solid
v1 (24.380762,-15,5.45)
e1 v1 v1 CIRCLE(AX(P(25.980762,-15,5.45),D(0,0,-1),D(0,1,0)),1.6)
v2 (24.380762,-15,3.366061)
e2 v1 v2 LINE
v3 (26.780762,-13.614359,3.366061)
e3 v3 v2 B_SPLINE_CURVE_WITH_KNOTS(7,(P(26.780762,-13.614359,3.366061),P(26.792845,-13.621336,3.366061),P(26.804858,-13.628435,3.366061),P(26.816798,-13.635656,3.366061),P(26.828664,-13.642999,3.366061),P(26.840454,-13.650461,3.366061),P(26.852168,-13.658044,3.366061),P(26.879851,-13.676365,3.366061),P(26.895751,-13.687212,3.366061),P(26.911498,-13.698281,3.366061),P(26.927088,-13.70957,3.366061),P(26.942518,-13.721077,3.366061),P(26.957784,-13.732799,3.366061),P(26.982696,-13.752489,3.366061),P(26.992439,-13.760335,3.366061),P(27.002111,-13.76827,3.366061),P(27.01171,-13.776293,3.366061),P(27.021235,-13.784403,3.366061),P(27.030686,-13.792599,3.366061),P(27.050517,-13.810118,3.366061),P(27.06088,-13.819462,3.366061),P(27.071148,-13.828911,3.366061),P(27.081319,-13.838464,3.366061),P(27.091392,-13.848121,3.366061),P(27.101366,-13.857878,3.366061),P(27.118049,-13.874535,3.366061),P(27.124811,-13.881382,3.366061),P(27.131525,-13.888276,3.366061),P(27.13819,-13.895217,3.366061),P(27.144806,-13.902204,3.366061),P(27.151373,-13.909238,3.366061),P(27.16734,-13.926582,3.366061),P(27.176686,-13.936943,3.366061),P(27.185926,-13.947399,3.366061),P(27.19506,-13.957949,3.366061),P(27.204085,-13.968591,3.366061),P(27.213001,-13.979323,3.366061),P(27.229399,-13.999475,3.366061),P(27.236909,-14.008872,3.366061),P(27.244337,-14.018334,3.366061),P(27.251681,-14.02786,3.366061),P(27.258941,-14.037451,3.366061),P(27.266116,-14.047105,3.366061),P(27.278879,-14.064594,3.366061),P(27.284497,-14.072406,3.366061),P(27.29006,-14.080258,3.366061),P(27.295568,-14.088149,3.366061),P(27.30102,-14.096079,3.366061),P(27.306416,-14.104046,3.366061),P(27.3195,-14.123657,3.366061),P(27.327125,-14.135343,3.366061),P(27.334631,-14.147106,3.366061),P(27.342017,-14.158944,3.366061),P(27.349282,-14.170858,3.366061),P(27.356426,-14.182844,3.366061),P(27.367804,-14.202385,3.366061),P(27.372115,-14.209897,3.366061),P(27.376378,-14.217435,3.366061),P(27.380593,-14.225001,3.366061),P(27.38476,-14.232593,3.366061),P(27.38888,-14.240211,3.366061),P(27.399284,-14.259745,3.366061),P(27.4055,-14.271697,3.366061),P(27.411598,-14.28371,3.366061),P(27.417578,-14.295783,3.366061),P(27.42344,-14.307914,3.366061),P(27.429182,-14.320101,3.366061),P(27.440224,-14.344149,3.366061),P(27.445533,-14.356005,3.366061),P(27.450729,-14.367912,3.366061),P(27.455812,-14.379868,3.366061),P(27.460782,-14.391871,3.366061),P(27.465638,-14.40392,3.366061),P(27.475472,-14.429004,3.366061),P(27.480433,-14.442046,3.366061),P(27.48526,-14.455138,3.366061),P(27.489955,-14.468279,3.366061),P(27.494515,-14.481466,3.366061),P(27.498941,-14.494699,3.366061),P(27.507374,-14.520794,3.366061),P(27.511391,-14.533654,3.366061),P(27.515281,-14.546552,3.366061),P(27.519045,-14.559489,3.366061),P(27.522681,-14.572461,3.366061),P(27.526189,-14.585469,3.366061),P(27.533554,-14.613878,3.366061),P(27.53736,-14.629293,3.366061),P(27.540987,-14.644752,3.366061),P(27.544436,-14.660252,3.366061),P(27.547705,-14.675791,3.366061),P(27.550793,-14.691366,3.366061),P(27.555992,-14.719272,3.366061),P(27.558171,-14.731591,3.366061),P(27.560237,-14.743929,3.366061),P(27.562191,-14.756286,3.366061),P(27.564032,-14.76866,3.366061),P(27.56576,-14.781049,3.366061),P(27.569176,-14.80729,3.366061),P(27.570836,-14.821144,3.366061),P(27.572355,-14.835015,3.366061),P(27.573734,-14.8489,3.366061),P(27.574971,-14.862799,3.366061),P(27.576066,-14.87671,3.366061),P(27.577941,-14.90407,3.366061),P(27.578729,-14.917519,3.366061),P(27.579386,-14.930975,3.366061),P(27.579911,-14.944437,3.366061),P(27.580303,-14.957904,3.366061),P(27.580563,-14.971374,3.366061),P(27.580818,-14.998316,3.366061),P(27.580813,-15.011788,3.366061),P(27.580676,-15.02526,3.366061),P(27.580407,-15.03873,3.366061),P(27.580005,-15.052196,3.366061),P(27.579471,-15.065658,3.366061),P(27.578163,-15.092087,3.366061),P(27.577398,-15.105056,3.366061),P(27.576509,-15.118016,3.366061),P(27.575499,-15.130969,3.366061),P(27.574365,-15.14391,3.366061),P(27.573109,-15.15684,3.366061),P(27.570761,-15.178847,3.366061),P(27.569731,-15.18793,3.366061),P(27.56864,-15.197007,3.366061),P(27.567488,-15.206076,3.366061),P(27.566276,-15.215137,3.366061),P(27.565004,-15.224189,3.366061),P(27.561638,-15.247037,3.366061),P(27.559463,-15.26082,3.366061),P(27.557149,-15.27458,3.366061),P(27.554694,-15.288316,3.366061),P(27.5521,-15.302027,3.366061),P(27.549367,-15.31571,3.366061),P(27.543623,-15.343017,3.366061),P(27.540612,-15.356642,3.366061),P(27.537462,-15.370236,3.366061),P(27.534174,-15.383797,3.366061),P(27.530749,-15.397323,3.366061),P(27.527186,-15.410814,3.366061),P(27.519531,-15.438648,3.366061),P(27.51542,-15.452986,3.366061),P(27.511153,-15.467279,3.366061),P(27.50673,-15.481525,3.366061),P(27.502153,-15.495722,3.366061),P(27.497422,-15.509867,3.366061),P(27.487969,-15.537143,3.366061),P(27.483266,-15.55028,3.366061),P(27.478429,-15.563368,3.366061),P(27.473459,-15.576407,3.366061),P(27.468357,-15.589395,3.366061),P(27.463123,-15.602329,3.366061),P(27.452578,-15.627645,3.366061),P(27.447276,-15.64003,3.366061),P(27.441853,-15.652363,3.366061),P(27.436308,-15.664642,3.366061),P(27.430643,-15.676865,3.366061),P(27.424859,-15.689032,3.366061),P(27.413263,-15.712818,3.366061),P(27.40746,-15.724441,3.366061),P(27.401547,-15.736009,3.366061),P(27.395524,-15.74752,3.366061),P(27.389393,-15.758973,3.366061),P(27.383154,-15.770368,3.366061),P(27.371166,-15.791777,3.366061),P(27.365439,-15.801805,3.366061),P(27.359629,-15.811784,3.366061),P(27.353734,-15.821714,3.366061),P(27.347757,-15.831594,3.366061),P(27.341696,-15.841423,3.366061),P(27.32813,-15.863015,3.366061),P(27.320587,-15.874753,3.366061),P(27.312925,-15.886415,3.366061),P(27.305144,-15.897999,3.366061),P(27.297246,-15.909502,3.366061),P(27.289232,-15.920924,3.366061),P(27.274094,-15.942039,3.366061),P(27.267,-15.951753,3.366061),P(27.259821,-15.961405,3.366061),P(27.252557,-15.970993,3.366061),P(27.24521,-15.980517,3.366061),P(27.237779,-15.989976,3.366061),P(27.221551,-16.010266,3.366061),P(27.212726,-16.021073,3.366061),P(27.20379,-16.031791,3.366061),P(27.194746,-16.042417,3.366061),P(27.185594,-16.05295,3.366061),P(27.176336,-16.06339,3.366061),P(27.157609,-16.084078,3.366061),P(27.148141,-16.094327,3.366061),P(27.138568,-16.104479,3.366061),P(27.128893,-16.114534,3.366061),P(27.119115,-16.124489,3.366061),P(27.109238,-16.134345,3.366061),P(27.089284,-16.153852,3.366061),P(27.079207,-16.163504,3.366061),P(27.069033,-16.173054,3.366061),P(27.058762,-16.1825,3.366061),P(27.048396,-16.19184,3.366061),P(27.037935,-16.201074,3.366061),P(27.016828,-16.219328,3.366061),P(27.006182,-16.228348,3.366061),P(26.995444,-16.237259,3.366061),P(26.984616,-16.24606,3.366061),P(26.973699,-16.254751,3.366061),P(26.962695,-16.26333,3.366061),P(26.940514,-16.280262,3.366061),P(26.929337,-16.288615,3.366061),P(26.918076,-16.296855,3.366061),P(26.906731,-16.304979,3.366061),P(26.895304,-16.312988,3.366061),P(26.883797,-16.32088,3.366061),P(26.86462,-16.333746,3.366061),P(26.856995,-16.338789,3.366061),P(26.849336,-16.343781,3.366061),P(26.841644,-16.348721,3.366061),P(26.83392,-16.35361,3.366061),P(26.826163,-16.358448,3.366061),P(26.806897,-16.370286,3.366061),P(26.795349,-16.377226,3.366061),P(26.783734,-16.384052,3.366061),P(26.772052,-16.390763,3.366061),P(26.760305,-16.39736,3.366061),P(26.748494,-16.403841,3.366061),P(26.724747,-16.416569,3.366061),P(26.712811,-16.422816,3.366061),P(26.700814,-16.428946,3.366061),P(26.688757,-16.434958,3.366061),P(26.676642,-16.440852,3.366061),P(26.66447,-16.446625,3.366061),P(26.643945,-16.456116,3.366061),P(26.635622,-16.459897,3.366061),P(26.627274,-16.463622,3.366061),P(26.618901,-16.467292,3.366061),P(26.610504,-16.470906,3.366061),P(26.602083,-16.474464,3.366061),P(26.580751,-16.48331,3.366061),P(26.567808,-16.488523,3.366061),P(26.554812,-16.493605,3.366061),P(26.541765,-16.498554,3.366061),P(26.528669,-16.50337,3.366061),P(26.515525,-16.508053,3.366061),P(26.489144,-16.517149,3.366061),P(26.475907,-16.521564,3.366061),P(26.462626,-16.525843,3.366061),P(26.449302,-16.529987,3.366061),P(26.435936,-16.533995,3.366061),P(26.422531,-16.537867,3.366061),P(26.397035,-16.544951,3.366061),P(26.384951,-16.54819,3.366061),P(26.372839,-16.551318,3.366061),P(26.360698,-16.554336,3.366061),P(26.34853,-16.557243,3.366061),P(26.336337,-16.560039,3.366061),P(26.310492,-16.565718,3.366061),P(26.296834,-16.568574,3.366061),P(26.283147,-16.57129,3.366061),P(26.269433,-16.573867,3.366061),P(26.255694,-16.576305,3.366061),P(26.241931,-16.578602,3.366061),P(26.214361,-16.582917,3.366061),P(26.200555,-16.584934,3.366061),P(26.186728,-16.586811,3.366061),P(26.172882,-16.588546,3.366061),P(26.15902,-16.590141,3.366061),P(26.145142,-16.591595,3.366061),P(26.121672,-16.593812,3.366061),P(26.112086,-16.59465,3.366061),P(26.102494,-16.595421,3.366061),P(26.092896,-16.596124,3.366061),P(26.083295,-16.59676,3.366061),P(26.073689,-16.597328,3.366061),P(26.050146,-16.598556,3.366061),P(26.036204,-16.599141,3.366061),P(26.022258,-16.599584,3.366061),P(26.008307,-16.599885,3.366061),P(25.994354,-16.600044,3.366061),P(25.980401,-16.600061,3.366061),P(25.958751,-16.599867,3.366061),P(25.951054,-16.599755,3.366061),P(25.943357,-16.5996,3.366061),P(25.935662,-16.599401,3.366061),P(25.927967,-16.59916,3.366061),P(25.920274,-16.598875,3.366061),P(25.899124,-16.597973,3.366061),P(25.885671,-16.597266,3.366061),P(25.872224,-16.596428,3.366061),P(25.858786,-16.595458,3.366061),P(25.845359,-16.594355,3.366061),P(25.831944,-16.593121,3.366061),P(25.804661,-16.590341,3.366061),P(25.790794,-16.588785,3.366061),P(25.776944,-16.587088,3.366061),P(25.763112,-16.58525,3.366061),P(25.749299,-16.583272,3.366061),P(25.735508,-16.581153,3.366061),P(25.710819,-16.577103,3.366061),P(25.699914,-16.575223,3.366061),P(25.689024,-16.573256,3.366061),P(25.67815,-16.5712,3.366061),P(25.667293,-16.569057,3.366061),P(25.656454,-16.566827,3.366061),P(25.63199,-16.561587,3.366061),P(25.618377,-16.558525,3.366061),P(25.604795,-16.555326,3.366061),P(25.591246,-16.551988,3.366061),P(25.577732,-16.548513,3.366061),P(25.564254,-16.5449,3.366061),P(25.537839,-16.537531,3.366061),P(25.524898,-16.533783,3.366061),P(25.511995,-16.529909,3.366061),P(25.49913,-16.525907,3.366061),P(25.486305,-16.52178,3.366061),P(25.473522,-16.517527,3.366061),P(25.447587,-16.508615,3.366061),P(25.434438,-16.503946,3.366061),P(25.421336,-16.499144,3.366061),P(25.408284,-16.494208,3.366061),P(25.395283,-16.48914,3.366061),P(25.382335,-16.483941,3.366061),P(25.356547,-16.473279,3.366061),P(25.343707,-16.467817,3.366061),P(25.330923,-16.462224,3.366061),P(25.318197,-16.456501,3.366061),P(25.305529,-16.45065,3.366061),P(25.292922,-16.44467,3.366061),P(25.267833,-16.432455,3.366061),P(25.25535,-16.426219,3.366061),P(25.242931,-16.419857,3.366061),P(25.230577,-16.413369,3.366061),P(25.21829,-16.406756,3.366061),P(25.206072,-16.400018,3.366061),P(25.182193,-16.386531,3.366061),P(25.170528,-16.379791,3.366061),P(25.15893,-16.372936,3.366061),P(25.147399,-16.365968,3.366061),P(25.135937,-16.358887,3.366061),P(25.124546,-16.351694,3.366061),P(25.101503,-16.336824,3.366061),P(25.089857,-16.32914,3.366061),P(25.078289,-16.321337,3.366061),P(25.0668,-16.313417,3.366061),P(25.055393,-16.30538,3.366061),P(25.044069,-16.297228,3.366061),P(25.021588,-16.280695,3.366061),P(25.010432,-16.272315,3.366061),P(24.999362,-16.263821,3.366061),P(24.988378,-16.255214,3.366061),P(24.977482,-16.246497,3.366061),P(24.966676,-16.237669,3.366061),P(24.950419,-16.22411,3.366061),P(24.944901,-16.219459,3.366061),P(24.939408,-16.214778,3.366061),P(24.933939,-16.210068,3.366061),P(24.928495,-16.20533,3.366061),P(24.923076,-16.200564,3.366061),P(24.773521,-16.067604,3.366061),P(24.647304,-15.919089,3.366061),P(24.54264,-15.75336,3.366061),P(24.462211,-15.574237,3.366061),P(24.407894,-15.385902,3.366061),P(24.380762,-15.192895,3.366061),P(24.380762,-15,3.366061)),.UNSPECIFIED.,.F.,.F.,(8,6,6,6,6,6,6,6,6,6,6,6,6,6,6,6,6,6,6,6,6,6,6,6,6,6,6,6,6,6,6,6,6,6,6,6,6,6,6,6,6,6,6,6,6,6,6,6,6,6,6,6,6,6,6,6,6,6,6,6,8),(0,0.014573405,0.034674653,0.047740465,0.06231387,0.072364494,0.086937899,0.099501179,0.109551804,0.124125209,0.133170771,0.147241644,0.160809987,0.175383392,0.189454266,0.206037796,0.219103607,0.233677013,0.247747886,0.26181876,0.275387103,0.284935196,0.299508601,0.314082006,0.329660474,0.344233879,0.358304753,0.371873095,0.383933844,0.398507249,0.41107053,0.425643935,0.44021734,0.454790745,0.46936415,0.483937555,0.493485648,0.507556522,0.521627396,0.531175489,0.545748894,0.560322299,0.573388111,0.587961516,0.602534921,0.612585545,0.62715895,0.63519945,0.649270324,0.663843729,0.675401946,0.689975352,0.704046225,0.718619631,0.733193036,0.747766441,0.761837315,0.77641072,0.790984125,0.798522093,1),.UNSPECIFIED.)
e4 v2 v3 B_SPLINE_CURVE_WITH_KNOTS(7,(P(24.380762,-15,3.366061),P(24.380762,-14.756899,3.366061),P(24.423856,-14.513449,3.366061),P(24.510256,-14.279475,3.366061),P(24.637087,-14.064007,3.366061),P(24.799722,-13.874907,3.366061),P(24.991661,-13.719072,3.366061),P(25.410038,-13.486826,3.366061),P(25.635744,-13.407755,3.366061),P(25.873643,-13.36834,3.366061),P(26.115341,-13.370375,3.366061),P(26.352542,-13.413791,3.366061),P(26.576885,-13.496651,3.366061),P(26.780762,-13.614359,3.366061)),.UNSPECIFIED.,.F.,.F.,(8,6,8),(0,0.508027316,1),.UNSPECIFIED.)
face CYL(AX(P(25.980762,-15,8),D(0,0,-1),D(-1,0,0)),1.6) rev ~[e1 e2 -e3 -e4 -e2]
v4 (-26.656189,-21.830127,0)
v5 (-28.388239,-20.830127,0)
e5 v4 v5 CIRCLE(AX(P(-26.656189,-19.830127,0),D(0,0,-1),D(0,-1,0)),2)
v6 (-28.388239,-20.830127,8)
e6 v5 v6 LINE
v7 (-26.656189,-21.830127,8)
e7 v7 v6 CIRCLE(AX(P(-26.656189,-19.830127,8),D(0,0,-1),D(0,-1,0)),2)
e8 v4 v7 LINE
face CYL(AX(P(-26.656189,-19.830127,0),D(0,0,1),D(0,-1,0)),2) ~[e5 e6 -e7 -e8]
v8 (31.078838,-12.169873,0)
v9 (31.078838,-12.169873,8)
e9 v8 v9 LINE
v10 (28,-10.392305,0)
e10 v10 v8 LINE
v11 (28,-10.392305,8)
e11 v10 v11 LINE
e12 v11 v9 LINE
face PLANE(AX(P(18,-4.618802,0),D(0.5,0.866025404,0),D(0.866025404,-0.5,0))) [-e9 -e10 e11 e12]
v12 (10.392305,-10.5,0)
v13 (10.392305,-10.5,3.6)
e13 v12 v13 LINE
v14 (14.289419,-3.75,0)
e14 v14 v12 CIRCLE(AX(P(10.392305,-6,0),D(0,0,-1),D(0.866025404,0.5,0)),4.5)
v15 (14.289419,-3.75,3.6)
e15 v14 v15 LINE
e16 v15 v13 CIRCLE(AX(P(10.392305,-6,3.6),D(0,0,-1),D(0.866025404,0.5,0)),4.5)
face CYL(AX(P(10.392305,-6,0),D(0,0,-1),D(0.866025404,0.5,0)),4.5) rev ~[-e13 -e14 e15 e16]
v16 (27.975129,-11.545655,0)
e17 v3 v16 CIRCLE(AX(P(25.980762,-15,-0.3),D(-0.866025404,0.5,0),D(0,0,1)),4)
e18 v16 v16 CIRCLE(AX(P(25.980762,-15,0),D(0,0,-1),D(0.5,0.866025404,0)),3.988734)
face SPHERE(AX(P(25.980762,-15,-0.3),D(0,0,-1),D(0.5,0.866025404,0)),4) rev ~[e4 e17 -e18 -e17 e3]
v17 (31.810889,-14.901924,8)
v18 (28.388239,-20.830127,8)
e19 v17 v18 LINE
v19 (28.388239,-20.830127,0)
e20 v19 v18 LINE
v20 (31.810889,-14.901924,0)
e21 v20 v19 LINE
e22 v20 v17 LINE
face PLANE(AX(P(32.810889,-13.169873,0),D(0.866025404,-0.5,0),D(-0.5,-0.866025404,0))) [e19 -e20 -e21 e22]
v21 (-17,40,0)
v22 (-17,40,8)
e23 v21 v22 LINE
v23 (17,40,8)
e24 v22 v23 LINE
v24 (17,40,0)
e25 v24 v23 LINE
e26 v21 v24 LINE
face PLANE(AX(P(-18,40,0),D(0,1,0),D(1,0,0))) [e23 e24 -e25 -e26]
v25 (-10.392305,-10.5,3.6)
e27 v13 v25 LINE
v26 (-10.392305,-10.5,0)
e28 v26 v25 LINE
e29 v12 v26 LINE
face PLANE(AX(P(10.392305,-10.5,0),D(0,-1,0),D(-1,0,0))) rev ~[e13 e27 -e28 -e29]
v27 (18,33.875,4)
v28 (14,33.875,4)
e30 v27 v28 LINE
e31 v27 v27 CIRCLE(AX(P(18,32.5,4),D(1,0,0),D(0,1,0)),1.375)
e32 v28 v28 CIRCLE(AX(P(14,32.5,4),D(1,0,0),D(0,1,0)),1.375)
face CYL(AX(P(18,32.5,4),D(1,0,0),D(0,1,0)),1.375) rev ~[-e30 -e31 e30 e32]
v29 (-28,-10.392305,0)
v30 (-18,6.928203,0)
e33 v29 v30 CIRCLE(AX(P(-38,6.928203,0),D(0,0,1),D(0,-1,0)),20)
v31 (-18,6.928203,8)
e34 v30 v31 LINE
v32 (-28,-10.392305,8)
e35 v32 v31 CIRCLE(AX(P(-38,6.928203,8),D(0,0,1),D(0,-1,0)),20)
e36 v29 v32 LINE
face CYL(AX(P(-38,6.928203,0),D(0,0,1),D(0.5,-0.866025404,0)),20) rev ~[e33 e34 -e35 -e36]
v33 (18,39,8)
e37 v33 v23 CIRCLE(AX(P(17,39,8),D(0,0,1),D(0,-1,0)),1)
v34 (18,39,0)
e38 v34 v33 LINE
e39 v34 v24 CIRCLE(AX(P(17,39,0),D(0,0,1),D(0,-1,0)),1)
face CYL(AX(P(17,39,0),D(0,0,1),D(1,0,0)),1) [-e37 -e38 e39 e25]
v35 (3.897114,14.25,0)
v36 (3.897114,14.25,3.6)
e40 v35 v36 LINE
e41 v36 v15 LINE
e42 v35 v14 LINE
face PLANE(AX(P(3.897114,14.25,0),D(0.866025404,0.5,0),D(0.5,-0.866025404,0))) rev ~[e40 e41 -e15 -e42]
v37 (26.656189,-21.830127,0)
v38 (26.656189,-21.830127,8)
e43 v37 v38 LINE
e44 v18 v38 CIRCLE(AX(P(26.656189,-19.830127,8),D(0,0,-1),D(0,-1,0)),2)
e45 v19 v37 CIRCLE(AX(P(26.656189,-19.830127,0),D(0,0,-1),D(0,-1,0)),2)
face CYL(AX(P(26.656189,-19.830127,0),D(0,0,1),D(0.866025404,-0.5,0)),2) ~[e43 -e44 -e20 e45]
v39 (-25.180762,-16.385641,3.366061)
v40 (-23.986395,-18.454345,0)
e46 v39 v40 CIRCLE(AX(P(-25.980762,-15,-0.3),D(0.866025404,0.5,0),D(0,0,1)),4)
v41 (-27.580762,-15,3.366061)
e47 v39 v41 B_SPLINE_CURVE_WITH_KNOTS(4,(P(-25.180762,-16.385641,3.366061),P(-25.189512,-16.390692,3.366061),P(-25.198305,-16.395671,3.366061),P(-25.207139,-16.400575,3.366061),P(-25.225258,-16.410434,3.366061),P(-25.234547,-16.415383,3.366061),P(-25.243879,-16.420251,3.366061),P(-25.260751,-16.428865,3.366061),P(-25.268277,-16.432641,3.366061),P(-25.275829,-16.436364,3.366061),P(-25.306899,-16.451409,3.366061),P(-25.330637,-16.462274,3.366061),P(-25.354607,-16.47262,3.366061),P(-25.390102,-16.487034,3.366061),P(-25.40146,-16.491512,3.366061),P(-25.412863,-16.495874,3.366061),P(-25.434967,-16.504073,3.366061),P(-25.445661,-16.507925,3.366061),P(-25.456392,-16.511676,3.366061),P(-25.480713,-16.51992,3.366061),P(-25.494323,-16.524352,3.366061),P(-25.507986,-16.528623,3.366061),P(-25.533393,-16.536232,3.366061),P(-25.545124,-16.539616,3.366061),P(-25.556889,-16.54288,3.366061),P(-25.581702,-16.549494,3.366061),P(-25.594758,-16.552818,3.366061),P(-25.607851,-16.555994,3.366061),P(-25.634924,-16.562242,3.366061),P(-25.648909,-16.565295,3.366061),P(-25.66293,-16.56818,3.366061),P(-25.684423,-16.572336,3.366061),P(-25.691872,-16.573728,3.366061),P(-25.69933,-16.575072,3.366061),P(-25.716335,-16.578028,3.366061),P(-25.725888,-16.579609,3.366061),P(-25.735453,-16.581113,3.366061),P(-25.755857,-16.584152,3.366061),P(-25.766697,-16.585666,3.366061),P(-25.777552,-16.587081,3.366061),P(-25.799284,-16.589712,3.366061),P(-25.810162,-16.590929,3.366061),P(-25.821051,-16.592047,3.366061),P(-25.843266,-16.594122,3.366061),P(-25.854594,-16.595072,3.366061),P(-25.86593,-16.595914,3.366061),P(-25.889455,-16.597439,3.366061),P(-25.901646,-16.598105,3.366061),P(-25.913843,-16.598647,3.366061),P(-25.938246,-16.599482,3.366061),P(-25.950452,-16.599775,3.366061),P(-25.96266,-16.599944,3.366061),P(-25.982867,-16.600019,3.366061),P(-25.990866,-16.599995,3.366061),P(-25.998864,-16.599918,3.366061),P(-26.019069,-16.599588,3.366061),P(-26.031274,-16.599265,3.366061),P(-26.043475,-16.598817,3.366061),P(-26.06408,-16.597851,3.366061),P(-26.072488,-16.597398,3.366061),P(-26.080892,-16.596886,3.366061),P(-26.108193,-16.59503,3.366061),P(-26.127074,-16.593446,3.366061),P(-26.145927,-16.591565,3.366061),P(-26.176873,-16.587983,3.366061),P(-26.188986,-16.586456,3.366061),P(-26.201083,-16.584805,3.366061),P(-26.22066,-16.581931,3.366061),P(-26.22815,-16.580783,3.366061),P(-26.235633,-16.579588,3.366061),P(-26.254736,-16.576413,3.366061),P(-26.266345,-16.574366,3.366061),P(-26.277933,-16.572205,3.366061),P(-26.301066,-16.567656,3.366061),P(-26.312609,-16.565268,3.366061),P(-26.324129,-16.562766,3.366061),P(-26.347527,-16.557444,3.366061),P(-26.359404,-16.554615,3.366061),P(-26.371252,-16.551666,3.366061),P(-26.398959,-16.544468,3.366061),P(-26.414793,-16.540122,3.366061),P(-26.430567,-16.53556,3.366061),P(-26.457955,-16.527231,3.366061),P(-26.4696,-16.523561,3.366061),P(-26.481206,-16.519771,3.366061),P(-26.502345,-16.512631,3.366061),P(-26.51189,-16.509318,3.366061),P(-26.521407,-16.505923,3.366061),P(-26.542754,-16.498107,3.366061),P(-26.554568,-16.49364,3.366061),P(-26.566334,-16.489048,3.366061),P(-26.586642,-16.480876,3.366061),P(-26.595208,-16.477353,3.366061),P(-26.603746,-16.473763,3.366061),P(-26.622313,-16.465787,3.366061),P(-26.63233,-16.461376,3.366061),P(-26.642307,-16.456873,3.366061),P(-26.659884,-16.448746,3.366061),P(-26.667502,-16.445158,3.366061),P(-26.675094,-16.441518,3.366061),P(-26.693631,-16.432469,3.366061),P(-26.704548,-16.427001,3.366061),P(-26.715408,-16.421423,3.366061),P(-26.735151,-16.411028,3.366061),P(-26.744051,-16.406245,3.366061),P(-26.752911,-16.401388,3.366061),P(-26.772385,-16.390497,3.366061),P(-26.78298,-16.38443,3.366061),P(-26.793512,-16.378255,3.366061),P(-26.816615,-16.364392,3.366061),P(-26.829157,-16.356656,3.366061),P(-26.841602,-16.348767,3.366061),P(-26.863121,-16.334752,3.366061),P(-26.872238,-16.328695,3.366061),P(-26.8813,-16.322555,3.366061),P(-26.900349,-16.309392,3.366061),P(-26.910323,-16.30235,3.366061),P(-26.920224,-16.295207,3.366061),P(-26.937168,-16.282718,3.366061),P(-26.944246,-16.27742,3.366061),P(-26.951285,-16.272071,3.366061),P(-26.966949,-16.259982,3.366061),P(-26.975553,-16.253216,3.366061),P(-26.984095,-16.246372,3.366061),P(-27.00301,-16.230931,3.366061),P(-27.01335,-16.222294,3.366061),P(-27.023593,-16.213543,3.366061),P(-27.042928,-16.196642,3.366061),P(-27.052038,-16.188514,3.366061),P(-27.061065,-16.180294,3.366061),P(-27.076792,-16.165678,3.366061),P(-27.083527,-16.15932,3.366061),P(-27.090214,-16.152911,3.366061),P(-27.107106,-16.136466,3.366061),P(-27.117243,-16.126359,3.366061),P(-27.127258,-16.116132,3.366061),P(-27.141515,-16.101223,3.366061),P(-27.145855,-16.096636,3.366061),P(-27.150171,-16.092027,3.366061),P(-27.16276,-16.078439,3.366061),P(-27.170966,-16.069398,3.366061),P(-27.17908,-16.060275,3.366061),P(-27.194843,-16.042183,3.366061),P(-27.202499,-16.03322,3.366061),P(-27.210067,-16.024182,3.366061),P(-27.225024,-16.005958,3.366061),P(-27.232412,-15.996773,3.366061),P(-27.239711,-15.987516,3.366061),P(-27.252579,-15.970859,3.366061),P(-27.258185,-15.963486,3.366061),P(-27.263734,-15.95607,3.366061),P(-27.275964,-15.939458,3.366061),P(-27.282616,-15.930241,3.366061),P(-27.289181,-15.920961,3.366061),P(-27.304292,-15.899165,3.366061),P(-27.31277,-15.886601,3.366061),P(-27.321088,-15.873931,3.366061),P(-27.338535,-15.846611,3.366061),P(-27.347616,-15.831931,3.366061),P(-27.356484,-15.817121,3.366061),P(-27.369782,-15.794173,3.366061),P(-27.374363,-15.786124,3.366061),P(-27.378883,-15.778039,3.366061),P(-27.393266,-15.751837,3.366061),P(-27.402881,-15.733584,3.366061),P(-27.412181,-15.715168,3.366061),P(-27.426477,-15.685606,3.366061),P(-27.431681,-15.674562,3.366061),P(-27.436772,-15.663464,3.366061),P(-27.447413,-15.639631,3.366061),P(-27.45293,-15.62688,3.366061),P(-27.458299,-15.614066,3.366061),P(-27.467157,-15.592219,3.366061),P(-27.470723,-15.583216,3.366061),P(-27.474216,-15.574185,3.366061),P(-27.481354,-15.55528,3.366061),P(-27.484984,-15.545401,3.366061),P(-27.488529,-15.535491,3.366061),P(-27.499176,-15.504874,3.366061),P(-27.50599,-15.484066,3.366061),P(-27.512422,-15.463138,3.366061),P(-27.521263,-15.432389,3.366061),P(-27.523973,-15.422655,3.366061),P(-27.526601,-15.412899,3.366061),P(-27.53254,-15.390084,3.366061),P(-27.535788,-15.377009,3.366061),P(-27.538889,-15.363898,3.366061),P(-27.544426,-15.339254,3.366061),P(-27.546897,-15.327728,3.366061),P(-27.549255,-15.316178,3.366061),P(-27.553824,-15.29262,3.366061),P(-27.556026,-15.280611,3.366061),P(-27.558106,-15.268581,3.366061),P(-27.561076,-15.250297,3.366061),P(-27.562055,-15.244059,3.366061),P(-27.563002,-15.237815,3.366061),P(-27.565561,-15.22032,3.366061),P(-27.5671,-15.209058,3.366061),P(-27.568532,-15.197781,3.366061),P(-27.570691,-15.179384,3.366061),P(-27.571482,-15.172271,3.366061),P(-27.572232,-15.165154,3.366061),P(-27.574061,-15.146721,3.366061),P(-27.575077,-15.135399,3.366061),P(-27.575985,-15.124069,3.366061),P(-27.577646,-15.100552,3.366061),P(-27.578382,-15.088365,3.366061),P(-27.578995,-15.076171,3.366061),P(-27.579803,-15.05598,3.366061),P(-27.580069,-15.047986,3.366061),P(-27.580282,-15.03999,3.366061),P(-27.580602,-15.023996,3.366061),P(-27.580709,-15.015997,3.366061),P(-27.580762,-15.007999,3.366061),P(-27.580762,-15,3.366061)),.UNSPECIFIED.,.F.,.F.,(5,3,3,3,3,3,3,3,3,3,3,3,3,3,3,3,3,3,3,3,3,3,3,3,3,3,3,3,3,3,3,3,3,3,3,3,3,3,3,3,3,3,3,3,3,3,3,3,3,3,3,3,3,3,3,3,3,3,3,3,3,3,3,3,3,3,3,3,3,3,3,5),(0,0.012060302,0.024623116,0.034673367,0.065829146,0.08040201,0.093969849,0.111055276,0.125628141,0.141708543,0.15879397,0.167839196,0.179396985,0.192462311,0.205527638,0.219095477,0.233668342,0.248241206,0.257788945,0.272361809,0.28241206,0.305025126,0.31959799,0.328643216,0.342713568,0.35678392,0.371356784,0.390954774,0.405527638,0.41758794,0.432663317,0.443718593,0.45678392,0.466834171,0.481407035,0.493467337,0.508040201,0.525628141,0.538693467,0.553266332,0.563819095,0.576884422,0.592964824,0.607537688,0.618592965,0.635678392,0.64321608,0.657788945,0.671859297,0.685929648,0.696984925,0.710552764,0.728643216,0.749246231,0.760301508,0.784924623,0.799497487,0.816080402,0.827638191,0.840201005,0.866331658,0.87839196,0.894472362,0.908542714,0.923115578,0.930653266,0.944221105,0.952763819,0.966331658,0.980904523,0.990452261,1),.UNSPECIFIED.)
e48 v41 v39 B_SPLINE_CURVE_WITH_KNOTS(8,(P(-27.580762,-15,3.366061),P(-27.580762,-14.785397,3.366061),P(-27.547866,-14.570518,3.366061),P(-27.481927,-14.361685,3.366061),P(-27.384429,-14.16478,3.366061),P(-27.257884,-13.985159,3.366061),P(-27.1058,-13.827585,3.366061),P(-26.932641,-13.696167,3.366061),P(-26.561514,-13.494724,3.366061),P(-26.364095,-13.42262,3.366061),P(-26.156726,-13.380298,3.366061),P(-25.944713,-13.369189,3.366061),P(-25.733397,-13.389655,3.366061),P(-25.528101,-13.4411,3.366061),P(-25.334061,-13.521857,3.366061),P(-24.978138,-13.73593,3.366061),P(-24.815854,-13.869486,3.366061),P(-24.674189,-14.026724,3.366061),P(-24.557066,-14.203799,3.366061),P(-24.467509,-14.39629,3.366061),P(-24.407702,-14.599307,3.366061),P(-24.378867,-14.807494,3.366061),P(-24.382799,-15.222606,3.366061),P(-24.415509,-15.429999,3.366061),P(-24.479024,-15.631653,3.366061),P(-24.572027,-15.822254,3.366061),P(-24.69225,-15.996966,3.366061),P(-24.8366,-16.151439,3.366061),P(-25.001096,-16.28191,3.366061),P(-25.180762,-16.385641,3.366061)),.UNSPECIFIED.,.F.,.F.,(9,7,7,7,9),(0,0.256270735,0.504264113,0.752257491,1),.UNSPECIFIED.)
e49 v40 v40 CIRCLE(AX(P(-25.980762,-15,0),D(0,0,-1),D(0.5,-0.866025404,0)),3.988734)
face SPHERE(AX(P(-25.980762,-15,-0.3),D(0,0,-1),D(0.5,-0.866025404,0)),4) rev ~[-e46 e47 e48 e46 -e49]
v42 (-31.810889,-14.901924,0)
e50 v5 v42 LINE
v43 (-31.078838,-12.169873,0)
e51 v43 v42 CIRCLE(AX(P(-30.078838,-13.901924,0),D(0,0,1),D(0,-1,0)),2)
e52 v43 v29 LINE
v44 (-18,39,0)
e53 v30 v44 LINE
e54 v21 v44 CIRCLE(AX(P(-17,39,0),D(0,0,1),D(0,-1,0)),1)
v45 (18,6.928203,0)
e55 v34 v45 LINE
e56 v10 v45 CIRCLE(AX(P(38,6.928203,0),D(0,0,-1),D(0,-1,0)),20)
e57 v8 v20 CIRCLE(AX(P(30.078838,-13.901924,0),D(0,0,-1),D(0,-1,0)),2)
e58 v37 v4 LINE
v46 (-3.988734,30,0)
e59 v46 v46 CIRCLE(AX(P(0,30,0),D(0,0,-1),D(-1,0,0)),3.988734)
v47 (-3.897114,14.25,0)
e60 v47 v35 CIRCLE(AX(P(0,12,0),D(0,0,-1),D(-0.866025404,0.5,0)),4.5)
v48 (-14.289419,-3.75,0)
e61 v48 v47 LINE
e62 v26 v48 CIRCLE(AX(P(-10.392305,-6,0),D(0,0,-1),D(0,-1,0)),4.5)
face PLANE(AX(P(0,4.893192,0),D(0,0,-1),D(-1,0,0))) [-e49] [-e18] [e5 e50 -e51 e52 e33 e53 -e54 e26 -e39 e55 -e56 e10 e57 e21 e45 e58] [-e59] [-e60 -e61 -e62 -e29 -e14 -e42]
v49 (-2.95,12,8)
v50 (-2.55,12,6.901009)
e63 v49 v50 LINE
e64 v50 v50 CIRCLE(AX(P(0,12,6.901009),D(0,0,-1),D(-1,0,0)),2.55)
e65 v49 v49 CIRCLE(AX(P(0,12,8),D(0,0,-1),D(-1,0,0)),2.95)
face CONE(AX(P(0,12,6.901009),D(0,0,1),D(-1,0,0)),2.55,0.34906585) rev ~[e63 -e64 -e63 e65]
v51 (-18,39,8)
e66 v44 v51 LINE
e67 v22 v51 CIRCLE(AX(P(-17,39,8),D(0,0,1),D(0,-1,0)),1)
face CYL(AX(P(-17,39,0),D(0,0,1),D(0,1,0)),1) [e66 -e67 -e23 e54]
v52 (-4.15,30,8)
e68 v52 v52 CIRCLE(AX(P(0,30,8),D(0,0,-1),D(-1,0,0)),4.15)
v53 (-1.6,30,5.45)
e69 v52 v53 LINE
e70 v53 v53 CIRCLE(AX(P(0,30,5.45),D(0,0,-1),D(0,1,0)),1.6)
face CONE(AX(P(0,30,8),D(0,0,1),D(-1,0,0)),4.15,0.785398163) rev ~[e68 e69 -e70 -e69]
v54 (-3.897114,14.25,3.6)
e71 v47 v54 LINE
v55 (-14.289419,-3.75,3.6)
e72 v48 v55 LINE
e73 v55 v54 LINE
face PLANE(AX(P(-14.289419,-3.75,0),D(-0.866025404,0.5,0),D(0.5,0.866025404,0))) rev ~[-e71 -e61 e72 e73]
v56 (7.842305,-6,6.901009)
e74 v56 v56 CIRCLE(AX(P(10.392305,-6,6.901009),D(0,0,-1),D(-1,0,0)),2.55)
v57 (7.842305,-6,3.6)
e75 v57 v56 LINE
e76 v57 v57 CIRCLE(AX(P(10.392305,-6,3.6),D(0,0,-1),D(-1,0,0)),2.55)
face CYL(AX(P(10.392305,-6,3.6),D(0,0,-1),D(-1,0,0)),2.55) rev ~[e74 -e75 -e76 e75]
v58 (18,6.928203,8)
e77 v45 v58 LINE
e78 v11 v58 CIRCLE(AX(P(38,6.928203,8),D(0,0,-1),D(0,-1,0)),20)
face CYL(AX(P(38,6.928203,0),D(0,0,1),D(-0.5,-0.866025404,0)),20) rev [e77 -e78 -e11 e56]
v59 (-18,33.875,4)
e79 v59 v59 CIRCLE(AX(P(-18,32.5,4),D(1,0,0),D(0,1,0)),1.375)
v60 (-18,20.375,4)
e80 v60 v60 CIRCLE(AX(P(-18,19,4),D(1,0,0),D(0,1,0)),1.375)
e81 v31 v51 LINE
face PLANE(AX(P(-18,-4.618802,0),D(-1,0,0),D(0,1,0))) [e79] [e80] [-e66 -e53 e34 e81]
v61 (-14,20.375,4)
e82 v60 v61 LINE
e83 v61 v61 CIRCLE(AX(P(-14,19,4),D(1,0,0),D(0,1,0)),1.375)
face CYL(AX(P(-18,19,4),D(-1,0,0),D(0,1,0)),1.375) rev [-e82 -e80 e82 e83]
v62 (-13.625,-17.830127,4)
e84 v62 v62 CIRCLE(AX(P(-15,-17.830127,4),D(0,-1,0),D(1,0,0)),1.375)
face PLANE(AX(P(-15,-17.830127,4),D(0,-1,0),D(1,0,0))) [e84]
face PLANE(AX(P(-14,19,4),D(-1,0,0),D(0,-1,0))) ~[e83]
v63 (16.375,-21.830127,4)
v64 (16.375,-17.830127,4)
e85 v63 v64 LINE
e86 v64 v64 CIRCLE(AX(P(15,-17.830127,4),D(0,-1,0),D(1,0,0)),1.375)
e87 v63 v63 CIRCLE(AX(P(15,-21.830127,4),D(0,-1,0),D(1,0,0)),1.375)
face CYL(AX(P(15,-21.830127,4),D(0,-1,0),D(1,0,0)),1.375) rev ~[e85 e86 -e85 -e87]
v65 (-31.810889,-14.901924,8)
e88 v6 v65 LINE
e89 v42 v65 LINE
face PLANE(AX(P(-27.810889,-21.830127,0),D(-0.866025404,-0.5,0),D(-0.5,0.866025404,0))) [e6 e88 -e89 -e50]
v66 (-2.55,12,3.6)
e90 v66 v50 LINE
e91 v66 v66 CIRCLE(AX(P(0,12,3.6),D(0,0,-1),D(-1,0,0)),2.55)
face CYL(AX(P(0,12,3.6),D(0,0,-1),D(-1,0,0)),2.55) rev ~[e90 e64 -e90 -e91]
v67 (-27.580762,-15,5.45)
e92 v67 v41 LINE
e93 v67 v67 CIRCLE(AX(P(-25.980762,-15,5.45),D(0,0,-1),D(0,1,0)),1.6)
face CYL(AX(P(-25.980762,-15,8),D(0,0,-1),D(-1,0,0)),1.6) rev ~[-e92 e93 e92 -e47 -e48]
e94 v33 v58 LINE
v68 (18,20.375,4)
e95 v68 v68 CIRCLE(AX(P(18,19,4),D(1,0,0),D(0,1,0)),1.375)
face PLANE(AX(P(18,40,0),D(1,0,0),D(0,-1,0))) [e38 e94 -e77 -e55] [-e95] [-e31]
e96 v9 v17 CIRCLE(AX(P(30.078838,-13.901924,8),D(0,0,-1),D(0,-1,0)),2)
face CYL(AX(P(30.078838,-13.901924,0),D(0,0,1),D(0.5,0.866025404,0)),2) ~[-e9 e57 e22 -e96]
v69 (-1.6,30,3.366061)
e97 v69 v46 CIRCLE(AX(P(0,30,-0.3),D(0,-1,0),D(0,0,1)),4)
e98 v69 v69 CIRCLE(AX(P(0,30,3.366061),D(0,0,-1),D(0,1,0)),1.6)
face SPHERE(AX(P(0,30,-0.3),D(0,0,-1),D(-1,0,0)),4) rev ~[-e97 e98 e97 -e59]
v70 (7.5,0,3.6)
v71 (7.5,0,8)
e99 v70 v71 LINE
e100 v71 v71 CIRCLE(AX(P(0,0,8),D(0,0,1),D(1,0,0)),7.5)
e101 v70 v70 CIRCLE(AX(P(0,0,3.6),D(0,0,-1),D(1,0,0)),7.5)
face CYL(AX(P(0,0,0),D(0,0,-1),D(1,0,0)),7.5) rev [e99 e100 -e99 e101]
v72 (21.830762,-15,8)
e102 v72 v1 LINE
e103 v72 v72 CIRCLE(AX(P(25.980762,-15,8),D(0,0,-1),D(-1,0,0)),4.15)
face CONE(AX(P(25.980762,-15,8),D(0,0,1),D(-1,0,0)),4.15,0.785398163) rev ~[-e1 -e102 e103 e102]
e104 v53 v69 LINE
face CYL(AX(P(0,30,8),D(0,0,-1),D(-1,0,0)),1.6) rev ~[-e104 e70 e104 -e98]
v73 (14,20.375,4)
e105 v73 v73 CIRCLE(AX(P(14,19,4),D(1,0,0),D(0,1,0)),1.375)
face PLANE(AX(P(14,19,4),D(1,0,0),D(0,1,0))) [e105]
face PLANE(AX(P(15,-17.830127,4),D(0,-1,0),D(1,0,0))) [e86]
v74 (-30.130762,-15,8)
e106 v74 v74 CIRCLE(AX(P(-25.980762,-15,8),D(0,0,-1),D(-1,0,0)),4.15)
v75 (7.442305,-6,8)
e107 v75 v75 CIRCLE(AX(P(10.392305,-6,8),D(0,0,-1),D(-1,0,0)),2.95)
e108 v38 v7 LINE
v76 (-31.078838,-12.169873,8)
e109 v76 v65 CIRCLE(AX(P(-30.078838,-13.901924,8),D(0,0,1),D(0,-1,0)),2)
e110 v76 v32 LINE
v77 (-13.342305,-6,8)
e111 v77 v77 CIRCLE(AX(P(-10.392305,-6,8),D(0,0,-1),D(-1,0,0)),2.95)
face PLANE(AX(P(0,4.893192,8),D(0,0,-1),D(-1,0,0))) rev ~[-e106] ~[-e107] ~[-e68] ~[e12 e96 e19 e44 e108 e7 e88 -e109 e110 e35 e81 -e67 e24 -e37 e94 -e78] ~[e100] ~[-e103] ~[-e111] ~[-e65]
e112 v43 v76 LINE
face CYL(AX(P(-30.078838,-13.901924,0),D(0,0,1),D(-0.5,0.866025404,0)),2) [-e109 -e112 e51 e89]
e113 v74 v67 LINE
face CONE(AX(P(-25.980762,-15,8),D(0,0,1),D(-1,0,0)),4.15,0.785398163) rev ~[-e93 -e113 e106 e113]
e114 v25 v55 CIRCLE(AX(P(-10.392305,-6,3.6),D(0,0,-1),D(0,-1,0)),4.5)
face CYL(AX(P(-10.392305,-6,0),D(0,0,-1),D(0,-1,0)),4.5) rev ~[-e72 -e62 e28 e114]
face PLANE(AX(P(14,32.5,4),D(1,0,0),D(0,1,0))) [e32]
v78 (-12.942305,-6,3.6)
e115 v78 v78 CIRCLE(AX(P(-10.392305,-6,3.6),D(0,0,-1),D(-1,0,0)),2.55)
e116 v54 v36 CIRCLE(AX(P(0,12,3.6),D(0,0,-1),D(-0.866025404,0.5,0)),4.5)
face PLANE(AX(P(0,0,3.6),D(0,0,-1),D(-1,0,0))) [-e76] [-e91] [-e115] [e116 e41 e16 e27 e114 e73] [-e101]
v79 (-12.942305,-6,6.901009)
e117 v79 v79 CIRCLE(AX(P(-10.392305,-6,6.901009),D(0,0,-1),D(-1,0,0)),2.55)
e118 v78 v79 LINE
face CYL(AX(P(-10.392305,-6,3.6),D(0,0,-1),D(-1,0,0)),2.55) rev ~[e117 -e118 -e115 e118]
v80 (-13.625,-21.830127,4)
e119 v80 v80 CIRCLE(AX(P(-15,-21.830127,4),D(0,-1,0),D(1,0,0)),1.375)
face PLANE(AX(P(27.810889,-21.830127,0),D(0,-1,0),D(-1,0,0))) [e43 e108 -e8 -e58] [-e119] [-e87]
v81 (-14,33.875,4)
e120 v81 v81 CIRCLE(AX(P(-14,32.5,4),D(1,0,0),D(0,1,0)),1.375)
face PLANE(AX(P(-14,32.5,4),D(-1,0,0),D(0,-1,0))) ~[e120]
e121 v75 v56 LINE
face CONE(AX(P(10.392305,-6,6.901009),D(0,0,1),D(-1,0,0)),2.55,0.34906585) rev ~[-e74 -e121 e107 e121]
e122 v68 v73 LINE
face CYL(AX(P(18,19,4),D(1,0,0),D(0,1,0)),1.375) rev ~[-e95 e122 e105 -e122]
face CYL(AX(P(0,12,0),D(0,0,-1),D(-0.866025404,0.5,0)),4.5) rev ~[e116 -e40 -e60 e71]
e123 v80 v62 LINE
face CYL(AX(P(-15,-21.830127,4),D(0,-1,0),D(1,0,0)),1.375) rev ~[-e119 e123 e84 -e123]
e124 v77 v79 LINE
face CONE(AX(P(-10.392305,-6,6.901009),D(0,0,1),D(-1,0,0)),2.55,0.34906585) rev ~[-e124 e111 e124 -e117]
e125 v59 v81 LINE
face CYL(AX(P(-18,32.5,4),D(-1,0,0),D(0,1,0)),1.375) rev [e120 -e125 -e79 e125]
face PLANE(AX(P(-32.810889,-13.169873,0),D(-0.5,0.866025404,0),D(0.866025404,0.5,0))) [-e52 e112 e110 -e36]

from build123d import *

# Parameters (mm, degrees)
SKETCH2_R                                       = 7.5
BOSS_EXTRUDE1_DEPTH                             = 8
CSK_FOR_M3_FLAT_HEAD_MACHINE_SCREW2_D           = 3.2
CSK_FOR_M3_FLAT_HEAD_MACHINE_SCREW2_CSINK_D     = 8.3
CSK_FOR_M3_FLAT_HEAD_MACHINE_SCREW2_CSINK_ANGLE = 90
FILLET1_R                                       = 20
V_GROOVE_CUTOUT_FLIPPED_DEPTH                   = 3.6
SKETCH49_R                                      = 2.55
CUT_EXTRUDE3_DEPTH                              = 52.922196079
CHAMFER2_SIZE                                   = 0.4
CHAMFER2_SIZE2                                  = 1.098990968
MOVE_FACE2_BY                                   = 0.5
MOVE_FACE2_2_BY                                 = 0.5
MOVE_FACE2_3_BY                                 = 0.5
MOVE_FACE2_4_BY                                 = 0.5
MOVE_FACE2_5_BY                                 = 0.5
MOVE_FACE2_6_BY                                 = 0.5
CIRPATTERN2_COUNT                               = 3
SKETCH20_R                                      = 1.375
TOOL_WING_SCREW_HOLES_DEPTH                     = 4
FILLET17_R                                      = 2
FILLET18_R                                      = 1
SKETCH50_R                                      = 1.375
CUT_EXTRUDE4_DEPTH                              = 4


with BuildPart() as part:
    # Sketch2 → Boss-Extrude1 (new body)
    with BuildSketch(Plane.XY):
        Polygon((-18, 40), (18, 40), (18, -4.618802154), (32.810889132, -13.169872981), (27.810889132, -21.830127019), (-27.810889132, -21.830127019), (-32.810889132, -13.169872981), (-18, -4.618802154), align=None)
        Circle(SKETCH2_R, mode=Mode.SUBTRACT)
    extrude(amount=BOSS_EXTRUDE1_DEPTH)

    # CSK for M3 Flat Head Machine Screw2 (through all)
    with Locations(Plane.XY.offset(8)):
        with Locations((-25.980762114, -15), (0, 30), (25.980762114, -15)):
            CounterSinkHole(CSK_FOR_M3_FLAT_HEAD_MACHINE_SCREW2_D / 2, CSK_FOR_M3_FLAT_HEAD_MACHINE_SCREW2_CSINK_D / 2, counter_sink_angle=CSK_FOR_M3_FLAT_HEAD_MACHINE_SCREW2_CSINK_ANGLE)

    # Fillet1
    fillet1_edges = [part.edges().sort_by_distance(p)[0] for p in [
        (18, -4.618802154, 4),
        (-18, -4.618802154, 4),
    ]]
    fillet(fillet1_edges, radius=FILLET1_R)

    # Sketch47 → v-groove cutout flipped (cut)
    with BuildSketch(Plane(origin=(0, 0, 0), x_dir=(-1, 0, 0), z_dir=(0, 0, -1))):
        with BuildLine():
            Line((-3.464101615, 14), (-13.856406461, -4))
            ThreePointArc((-13.856406461, -4), (-13.856406461, -8), (-10.392304845, -10))
            Line((-10.392304845, -10), (10.392304845, -10))
            ThreePointArc((10.392304845, -10), (13.856406461, -8), (13.856406461, -4))
            Line((13.856406461, -4), (3.464101615, 14))
            ThreePointArc((3.464101615, 14), (0, 16), (-3.464101615, 14))
        make_face()
    extrude(amount=-V_GROOVE_CUTOUT_FLIPPED_DEPTH, mode=Mode.SUBTRACT)

    # Sketch49 → Cut-Extrude3 (cut, through all)
    with BuildSketch(Plane(origin=(0, 0, 3.6), x_dir=(-1, 0, 0), z_dir=(0, 0, -1))):
        with Locations((0, 12)):
            Circle(SKETCH49_R)
        with Locations((10.392304845, -6)):
            Circle(SKETCH49_R)
        with Locations((-10.392304845, -6)):
            Circle(SKETCH49_R)
    extrude(amount=-CUT_EXTRUDE3_DEPTH, mode=Mode.SUBTRACT)

    # Chamfer2
    chamfer2_edges = [part.edges().sort_by_distance(p)[0] for p in [
        (2.55, 12, 8),
        (-7.842304845, -6, 8),
        (12.942304845, -6, 8),
    ]]
    chamfer2_side = [part.faces().sort_by_distance(p)[0] for p in [
        (17.098380214, 23.464101615, 8),
    ]]
    chamfer(chamfer2_edges, length=CHAMFER2_SIZE, length2=CHAMFER2_SIZE2, reference=chamfer2_side[0])

    # Move Face2: a curved face moved inward by 0.5
    add(Solid.thicken(part.faces().sort_by_distance((-13.856406461, -8, 1.8))[0], -MOVE_FACE2_BY), mode=Mode.SUBTRACT)

    # Move Face2 2: a face moved inward by 0.5
    extrude(part.faces().sort_by_distance((0, -10, 1.8))[0], amount=MOVE_FACE2_2_BY, dir=(0, -1, 0), mode=Mode.SUBTRACT)

    # Move Face2 3: a curved face moved inward by 0.5
    add(Solid.thicken(part.faces().sort_by_distance((13.856406461, -8, 1.8))[0], -MOVE_FACE2_3_BY), mode=Mode.SUBTRACT)

    # Move Face2 4: a face moved inward by 0.5
    extrude(part.faces().sort_by_distance((8.660254038, 5, 1.8))[0], amount=MOVE_FACE2_4_BY, dir=(0.866025404, 0.5, 0), mode=Mode.SUBTRACT)

    # Move Face2 5: a curved face moved inward by 0.5
    add(Solid.thicken(part.faces().sort_by_distance((0, 16, 1.8))[0], -MOVE_FACE2_5_BY), mode=Mode.SUBTRACT)

    # Move Face2 6: a face moved inward by 0.5
    extrude(part.faces().sort_by_distance((-8.660254038, 5, 1.8))[0], amount=MOVE_FACE2_6_BY, dir=(-0.866025404, 0.5, 0), mode=Mode.SUBTRACT)

    # Sketch46 → tool ball cutout (revolve, cut)
    with BuildSketch(Plane(origin=(0, 30, 0), x_dir=(1, 0, 0), z_dir=(0, 1, 0))):
        with BuildLine():
            Line((0, 4.3), (0, -3.7))
            ThreePointArc((0, -3.7), (-4, 0.3), (0, 4.3))
        make_face()
    tool_ball_cutout = revolve(axis=Axis((0, 30, 0), (0, 0, -1)), mode=Mode.SUBTRACT)

    # CirPattern2: tool ball cutout ×3 about axis
    cirpattern2_axis = Axis((0, 0, 0), (0, 0, 1))
    for i in range(1, CIRPATTERN2_COUNT):
        add(tool_ball_cutout.rotate(cirpattern2_axis, i * 360 / CIRPATTERN2_COUNT), mode=Mode.SUBTRACT)

    # Sketch20 → Tool Wing Screw Holes (cut)
    with BuildSketch(Plane(origin=(18, 0, 0), x_dir=(0, 0, -1), z_dir=(1, 0, 0))):
        with Locations(Location((-4, 19, 0), (0, 0, 90))):
            Circle(SKETCH20_R)
        with Locations(Location((-4, 32.5, 0), (0, 0, 90))):
            Circle(SKETCH20_R)
    tool_wing_screw_holes = extrude(amount=-TOOL_WING_SCREW_HOLES_DEPTH, mode=Mode.SUBTRACT)

    # Mirror2: Tool Wing Screw Holes across plane
    add(tool_wing_screw_holes.mirror(Plane(origin=(0, 0, 0), x_dir=(0, 0, 1), z_dir=(1, 0, 0))), mode=Mode.SUBTRACT)

    # Fillet17
    fillet17_edges = [part.edges().sort_by_distance(p)[0] for p in [
        (32.810889132, -13.169872981, 4),
        (27.810889132, -21.830127019, 4),
        (-27.810889132, -21.830127019, 4),
        (-32.810889132, -13.169872981, 4),
    ]]
    fillet(fillet17_edges, radius=FILLET17_R)

    # Fillet18
    fillet18_edges = [part.edges().sort_by_distance(p)[0] for p in [
        (-18, 40, 4),
        (18, 40, 4),
    ]]
    fillet(fillet18_edges, radius=FILLET18_R)

    # Sketch50 → Cut-Extrude4 (cut)
    with BuildSketch(Plane.XZ.offset(21.830127019)):
        with Locations((-15, 4)):
            Circle(SKETCH50_R)
        with Locations((15, 4)):
            Circle(SKETCH50_R)
    extrude(amount=-CUT_EXTRUDE4_DEPTH, mode=Mode.SUBTRACT)


solid = part.part
